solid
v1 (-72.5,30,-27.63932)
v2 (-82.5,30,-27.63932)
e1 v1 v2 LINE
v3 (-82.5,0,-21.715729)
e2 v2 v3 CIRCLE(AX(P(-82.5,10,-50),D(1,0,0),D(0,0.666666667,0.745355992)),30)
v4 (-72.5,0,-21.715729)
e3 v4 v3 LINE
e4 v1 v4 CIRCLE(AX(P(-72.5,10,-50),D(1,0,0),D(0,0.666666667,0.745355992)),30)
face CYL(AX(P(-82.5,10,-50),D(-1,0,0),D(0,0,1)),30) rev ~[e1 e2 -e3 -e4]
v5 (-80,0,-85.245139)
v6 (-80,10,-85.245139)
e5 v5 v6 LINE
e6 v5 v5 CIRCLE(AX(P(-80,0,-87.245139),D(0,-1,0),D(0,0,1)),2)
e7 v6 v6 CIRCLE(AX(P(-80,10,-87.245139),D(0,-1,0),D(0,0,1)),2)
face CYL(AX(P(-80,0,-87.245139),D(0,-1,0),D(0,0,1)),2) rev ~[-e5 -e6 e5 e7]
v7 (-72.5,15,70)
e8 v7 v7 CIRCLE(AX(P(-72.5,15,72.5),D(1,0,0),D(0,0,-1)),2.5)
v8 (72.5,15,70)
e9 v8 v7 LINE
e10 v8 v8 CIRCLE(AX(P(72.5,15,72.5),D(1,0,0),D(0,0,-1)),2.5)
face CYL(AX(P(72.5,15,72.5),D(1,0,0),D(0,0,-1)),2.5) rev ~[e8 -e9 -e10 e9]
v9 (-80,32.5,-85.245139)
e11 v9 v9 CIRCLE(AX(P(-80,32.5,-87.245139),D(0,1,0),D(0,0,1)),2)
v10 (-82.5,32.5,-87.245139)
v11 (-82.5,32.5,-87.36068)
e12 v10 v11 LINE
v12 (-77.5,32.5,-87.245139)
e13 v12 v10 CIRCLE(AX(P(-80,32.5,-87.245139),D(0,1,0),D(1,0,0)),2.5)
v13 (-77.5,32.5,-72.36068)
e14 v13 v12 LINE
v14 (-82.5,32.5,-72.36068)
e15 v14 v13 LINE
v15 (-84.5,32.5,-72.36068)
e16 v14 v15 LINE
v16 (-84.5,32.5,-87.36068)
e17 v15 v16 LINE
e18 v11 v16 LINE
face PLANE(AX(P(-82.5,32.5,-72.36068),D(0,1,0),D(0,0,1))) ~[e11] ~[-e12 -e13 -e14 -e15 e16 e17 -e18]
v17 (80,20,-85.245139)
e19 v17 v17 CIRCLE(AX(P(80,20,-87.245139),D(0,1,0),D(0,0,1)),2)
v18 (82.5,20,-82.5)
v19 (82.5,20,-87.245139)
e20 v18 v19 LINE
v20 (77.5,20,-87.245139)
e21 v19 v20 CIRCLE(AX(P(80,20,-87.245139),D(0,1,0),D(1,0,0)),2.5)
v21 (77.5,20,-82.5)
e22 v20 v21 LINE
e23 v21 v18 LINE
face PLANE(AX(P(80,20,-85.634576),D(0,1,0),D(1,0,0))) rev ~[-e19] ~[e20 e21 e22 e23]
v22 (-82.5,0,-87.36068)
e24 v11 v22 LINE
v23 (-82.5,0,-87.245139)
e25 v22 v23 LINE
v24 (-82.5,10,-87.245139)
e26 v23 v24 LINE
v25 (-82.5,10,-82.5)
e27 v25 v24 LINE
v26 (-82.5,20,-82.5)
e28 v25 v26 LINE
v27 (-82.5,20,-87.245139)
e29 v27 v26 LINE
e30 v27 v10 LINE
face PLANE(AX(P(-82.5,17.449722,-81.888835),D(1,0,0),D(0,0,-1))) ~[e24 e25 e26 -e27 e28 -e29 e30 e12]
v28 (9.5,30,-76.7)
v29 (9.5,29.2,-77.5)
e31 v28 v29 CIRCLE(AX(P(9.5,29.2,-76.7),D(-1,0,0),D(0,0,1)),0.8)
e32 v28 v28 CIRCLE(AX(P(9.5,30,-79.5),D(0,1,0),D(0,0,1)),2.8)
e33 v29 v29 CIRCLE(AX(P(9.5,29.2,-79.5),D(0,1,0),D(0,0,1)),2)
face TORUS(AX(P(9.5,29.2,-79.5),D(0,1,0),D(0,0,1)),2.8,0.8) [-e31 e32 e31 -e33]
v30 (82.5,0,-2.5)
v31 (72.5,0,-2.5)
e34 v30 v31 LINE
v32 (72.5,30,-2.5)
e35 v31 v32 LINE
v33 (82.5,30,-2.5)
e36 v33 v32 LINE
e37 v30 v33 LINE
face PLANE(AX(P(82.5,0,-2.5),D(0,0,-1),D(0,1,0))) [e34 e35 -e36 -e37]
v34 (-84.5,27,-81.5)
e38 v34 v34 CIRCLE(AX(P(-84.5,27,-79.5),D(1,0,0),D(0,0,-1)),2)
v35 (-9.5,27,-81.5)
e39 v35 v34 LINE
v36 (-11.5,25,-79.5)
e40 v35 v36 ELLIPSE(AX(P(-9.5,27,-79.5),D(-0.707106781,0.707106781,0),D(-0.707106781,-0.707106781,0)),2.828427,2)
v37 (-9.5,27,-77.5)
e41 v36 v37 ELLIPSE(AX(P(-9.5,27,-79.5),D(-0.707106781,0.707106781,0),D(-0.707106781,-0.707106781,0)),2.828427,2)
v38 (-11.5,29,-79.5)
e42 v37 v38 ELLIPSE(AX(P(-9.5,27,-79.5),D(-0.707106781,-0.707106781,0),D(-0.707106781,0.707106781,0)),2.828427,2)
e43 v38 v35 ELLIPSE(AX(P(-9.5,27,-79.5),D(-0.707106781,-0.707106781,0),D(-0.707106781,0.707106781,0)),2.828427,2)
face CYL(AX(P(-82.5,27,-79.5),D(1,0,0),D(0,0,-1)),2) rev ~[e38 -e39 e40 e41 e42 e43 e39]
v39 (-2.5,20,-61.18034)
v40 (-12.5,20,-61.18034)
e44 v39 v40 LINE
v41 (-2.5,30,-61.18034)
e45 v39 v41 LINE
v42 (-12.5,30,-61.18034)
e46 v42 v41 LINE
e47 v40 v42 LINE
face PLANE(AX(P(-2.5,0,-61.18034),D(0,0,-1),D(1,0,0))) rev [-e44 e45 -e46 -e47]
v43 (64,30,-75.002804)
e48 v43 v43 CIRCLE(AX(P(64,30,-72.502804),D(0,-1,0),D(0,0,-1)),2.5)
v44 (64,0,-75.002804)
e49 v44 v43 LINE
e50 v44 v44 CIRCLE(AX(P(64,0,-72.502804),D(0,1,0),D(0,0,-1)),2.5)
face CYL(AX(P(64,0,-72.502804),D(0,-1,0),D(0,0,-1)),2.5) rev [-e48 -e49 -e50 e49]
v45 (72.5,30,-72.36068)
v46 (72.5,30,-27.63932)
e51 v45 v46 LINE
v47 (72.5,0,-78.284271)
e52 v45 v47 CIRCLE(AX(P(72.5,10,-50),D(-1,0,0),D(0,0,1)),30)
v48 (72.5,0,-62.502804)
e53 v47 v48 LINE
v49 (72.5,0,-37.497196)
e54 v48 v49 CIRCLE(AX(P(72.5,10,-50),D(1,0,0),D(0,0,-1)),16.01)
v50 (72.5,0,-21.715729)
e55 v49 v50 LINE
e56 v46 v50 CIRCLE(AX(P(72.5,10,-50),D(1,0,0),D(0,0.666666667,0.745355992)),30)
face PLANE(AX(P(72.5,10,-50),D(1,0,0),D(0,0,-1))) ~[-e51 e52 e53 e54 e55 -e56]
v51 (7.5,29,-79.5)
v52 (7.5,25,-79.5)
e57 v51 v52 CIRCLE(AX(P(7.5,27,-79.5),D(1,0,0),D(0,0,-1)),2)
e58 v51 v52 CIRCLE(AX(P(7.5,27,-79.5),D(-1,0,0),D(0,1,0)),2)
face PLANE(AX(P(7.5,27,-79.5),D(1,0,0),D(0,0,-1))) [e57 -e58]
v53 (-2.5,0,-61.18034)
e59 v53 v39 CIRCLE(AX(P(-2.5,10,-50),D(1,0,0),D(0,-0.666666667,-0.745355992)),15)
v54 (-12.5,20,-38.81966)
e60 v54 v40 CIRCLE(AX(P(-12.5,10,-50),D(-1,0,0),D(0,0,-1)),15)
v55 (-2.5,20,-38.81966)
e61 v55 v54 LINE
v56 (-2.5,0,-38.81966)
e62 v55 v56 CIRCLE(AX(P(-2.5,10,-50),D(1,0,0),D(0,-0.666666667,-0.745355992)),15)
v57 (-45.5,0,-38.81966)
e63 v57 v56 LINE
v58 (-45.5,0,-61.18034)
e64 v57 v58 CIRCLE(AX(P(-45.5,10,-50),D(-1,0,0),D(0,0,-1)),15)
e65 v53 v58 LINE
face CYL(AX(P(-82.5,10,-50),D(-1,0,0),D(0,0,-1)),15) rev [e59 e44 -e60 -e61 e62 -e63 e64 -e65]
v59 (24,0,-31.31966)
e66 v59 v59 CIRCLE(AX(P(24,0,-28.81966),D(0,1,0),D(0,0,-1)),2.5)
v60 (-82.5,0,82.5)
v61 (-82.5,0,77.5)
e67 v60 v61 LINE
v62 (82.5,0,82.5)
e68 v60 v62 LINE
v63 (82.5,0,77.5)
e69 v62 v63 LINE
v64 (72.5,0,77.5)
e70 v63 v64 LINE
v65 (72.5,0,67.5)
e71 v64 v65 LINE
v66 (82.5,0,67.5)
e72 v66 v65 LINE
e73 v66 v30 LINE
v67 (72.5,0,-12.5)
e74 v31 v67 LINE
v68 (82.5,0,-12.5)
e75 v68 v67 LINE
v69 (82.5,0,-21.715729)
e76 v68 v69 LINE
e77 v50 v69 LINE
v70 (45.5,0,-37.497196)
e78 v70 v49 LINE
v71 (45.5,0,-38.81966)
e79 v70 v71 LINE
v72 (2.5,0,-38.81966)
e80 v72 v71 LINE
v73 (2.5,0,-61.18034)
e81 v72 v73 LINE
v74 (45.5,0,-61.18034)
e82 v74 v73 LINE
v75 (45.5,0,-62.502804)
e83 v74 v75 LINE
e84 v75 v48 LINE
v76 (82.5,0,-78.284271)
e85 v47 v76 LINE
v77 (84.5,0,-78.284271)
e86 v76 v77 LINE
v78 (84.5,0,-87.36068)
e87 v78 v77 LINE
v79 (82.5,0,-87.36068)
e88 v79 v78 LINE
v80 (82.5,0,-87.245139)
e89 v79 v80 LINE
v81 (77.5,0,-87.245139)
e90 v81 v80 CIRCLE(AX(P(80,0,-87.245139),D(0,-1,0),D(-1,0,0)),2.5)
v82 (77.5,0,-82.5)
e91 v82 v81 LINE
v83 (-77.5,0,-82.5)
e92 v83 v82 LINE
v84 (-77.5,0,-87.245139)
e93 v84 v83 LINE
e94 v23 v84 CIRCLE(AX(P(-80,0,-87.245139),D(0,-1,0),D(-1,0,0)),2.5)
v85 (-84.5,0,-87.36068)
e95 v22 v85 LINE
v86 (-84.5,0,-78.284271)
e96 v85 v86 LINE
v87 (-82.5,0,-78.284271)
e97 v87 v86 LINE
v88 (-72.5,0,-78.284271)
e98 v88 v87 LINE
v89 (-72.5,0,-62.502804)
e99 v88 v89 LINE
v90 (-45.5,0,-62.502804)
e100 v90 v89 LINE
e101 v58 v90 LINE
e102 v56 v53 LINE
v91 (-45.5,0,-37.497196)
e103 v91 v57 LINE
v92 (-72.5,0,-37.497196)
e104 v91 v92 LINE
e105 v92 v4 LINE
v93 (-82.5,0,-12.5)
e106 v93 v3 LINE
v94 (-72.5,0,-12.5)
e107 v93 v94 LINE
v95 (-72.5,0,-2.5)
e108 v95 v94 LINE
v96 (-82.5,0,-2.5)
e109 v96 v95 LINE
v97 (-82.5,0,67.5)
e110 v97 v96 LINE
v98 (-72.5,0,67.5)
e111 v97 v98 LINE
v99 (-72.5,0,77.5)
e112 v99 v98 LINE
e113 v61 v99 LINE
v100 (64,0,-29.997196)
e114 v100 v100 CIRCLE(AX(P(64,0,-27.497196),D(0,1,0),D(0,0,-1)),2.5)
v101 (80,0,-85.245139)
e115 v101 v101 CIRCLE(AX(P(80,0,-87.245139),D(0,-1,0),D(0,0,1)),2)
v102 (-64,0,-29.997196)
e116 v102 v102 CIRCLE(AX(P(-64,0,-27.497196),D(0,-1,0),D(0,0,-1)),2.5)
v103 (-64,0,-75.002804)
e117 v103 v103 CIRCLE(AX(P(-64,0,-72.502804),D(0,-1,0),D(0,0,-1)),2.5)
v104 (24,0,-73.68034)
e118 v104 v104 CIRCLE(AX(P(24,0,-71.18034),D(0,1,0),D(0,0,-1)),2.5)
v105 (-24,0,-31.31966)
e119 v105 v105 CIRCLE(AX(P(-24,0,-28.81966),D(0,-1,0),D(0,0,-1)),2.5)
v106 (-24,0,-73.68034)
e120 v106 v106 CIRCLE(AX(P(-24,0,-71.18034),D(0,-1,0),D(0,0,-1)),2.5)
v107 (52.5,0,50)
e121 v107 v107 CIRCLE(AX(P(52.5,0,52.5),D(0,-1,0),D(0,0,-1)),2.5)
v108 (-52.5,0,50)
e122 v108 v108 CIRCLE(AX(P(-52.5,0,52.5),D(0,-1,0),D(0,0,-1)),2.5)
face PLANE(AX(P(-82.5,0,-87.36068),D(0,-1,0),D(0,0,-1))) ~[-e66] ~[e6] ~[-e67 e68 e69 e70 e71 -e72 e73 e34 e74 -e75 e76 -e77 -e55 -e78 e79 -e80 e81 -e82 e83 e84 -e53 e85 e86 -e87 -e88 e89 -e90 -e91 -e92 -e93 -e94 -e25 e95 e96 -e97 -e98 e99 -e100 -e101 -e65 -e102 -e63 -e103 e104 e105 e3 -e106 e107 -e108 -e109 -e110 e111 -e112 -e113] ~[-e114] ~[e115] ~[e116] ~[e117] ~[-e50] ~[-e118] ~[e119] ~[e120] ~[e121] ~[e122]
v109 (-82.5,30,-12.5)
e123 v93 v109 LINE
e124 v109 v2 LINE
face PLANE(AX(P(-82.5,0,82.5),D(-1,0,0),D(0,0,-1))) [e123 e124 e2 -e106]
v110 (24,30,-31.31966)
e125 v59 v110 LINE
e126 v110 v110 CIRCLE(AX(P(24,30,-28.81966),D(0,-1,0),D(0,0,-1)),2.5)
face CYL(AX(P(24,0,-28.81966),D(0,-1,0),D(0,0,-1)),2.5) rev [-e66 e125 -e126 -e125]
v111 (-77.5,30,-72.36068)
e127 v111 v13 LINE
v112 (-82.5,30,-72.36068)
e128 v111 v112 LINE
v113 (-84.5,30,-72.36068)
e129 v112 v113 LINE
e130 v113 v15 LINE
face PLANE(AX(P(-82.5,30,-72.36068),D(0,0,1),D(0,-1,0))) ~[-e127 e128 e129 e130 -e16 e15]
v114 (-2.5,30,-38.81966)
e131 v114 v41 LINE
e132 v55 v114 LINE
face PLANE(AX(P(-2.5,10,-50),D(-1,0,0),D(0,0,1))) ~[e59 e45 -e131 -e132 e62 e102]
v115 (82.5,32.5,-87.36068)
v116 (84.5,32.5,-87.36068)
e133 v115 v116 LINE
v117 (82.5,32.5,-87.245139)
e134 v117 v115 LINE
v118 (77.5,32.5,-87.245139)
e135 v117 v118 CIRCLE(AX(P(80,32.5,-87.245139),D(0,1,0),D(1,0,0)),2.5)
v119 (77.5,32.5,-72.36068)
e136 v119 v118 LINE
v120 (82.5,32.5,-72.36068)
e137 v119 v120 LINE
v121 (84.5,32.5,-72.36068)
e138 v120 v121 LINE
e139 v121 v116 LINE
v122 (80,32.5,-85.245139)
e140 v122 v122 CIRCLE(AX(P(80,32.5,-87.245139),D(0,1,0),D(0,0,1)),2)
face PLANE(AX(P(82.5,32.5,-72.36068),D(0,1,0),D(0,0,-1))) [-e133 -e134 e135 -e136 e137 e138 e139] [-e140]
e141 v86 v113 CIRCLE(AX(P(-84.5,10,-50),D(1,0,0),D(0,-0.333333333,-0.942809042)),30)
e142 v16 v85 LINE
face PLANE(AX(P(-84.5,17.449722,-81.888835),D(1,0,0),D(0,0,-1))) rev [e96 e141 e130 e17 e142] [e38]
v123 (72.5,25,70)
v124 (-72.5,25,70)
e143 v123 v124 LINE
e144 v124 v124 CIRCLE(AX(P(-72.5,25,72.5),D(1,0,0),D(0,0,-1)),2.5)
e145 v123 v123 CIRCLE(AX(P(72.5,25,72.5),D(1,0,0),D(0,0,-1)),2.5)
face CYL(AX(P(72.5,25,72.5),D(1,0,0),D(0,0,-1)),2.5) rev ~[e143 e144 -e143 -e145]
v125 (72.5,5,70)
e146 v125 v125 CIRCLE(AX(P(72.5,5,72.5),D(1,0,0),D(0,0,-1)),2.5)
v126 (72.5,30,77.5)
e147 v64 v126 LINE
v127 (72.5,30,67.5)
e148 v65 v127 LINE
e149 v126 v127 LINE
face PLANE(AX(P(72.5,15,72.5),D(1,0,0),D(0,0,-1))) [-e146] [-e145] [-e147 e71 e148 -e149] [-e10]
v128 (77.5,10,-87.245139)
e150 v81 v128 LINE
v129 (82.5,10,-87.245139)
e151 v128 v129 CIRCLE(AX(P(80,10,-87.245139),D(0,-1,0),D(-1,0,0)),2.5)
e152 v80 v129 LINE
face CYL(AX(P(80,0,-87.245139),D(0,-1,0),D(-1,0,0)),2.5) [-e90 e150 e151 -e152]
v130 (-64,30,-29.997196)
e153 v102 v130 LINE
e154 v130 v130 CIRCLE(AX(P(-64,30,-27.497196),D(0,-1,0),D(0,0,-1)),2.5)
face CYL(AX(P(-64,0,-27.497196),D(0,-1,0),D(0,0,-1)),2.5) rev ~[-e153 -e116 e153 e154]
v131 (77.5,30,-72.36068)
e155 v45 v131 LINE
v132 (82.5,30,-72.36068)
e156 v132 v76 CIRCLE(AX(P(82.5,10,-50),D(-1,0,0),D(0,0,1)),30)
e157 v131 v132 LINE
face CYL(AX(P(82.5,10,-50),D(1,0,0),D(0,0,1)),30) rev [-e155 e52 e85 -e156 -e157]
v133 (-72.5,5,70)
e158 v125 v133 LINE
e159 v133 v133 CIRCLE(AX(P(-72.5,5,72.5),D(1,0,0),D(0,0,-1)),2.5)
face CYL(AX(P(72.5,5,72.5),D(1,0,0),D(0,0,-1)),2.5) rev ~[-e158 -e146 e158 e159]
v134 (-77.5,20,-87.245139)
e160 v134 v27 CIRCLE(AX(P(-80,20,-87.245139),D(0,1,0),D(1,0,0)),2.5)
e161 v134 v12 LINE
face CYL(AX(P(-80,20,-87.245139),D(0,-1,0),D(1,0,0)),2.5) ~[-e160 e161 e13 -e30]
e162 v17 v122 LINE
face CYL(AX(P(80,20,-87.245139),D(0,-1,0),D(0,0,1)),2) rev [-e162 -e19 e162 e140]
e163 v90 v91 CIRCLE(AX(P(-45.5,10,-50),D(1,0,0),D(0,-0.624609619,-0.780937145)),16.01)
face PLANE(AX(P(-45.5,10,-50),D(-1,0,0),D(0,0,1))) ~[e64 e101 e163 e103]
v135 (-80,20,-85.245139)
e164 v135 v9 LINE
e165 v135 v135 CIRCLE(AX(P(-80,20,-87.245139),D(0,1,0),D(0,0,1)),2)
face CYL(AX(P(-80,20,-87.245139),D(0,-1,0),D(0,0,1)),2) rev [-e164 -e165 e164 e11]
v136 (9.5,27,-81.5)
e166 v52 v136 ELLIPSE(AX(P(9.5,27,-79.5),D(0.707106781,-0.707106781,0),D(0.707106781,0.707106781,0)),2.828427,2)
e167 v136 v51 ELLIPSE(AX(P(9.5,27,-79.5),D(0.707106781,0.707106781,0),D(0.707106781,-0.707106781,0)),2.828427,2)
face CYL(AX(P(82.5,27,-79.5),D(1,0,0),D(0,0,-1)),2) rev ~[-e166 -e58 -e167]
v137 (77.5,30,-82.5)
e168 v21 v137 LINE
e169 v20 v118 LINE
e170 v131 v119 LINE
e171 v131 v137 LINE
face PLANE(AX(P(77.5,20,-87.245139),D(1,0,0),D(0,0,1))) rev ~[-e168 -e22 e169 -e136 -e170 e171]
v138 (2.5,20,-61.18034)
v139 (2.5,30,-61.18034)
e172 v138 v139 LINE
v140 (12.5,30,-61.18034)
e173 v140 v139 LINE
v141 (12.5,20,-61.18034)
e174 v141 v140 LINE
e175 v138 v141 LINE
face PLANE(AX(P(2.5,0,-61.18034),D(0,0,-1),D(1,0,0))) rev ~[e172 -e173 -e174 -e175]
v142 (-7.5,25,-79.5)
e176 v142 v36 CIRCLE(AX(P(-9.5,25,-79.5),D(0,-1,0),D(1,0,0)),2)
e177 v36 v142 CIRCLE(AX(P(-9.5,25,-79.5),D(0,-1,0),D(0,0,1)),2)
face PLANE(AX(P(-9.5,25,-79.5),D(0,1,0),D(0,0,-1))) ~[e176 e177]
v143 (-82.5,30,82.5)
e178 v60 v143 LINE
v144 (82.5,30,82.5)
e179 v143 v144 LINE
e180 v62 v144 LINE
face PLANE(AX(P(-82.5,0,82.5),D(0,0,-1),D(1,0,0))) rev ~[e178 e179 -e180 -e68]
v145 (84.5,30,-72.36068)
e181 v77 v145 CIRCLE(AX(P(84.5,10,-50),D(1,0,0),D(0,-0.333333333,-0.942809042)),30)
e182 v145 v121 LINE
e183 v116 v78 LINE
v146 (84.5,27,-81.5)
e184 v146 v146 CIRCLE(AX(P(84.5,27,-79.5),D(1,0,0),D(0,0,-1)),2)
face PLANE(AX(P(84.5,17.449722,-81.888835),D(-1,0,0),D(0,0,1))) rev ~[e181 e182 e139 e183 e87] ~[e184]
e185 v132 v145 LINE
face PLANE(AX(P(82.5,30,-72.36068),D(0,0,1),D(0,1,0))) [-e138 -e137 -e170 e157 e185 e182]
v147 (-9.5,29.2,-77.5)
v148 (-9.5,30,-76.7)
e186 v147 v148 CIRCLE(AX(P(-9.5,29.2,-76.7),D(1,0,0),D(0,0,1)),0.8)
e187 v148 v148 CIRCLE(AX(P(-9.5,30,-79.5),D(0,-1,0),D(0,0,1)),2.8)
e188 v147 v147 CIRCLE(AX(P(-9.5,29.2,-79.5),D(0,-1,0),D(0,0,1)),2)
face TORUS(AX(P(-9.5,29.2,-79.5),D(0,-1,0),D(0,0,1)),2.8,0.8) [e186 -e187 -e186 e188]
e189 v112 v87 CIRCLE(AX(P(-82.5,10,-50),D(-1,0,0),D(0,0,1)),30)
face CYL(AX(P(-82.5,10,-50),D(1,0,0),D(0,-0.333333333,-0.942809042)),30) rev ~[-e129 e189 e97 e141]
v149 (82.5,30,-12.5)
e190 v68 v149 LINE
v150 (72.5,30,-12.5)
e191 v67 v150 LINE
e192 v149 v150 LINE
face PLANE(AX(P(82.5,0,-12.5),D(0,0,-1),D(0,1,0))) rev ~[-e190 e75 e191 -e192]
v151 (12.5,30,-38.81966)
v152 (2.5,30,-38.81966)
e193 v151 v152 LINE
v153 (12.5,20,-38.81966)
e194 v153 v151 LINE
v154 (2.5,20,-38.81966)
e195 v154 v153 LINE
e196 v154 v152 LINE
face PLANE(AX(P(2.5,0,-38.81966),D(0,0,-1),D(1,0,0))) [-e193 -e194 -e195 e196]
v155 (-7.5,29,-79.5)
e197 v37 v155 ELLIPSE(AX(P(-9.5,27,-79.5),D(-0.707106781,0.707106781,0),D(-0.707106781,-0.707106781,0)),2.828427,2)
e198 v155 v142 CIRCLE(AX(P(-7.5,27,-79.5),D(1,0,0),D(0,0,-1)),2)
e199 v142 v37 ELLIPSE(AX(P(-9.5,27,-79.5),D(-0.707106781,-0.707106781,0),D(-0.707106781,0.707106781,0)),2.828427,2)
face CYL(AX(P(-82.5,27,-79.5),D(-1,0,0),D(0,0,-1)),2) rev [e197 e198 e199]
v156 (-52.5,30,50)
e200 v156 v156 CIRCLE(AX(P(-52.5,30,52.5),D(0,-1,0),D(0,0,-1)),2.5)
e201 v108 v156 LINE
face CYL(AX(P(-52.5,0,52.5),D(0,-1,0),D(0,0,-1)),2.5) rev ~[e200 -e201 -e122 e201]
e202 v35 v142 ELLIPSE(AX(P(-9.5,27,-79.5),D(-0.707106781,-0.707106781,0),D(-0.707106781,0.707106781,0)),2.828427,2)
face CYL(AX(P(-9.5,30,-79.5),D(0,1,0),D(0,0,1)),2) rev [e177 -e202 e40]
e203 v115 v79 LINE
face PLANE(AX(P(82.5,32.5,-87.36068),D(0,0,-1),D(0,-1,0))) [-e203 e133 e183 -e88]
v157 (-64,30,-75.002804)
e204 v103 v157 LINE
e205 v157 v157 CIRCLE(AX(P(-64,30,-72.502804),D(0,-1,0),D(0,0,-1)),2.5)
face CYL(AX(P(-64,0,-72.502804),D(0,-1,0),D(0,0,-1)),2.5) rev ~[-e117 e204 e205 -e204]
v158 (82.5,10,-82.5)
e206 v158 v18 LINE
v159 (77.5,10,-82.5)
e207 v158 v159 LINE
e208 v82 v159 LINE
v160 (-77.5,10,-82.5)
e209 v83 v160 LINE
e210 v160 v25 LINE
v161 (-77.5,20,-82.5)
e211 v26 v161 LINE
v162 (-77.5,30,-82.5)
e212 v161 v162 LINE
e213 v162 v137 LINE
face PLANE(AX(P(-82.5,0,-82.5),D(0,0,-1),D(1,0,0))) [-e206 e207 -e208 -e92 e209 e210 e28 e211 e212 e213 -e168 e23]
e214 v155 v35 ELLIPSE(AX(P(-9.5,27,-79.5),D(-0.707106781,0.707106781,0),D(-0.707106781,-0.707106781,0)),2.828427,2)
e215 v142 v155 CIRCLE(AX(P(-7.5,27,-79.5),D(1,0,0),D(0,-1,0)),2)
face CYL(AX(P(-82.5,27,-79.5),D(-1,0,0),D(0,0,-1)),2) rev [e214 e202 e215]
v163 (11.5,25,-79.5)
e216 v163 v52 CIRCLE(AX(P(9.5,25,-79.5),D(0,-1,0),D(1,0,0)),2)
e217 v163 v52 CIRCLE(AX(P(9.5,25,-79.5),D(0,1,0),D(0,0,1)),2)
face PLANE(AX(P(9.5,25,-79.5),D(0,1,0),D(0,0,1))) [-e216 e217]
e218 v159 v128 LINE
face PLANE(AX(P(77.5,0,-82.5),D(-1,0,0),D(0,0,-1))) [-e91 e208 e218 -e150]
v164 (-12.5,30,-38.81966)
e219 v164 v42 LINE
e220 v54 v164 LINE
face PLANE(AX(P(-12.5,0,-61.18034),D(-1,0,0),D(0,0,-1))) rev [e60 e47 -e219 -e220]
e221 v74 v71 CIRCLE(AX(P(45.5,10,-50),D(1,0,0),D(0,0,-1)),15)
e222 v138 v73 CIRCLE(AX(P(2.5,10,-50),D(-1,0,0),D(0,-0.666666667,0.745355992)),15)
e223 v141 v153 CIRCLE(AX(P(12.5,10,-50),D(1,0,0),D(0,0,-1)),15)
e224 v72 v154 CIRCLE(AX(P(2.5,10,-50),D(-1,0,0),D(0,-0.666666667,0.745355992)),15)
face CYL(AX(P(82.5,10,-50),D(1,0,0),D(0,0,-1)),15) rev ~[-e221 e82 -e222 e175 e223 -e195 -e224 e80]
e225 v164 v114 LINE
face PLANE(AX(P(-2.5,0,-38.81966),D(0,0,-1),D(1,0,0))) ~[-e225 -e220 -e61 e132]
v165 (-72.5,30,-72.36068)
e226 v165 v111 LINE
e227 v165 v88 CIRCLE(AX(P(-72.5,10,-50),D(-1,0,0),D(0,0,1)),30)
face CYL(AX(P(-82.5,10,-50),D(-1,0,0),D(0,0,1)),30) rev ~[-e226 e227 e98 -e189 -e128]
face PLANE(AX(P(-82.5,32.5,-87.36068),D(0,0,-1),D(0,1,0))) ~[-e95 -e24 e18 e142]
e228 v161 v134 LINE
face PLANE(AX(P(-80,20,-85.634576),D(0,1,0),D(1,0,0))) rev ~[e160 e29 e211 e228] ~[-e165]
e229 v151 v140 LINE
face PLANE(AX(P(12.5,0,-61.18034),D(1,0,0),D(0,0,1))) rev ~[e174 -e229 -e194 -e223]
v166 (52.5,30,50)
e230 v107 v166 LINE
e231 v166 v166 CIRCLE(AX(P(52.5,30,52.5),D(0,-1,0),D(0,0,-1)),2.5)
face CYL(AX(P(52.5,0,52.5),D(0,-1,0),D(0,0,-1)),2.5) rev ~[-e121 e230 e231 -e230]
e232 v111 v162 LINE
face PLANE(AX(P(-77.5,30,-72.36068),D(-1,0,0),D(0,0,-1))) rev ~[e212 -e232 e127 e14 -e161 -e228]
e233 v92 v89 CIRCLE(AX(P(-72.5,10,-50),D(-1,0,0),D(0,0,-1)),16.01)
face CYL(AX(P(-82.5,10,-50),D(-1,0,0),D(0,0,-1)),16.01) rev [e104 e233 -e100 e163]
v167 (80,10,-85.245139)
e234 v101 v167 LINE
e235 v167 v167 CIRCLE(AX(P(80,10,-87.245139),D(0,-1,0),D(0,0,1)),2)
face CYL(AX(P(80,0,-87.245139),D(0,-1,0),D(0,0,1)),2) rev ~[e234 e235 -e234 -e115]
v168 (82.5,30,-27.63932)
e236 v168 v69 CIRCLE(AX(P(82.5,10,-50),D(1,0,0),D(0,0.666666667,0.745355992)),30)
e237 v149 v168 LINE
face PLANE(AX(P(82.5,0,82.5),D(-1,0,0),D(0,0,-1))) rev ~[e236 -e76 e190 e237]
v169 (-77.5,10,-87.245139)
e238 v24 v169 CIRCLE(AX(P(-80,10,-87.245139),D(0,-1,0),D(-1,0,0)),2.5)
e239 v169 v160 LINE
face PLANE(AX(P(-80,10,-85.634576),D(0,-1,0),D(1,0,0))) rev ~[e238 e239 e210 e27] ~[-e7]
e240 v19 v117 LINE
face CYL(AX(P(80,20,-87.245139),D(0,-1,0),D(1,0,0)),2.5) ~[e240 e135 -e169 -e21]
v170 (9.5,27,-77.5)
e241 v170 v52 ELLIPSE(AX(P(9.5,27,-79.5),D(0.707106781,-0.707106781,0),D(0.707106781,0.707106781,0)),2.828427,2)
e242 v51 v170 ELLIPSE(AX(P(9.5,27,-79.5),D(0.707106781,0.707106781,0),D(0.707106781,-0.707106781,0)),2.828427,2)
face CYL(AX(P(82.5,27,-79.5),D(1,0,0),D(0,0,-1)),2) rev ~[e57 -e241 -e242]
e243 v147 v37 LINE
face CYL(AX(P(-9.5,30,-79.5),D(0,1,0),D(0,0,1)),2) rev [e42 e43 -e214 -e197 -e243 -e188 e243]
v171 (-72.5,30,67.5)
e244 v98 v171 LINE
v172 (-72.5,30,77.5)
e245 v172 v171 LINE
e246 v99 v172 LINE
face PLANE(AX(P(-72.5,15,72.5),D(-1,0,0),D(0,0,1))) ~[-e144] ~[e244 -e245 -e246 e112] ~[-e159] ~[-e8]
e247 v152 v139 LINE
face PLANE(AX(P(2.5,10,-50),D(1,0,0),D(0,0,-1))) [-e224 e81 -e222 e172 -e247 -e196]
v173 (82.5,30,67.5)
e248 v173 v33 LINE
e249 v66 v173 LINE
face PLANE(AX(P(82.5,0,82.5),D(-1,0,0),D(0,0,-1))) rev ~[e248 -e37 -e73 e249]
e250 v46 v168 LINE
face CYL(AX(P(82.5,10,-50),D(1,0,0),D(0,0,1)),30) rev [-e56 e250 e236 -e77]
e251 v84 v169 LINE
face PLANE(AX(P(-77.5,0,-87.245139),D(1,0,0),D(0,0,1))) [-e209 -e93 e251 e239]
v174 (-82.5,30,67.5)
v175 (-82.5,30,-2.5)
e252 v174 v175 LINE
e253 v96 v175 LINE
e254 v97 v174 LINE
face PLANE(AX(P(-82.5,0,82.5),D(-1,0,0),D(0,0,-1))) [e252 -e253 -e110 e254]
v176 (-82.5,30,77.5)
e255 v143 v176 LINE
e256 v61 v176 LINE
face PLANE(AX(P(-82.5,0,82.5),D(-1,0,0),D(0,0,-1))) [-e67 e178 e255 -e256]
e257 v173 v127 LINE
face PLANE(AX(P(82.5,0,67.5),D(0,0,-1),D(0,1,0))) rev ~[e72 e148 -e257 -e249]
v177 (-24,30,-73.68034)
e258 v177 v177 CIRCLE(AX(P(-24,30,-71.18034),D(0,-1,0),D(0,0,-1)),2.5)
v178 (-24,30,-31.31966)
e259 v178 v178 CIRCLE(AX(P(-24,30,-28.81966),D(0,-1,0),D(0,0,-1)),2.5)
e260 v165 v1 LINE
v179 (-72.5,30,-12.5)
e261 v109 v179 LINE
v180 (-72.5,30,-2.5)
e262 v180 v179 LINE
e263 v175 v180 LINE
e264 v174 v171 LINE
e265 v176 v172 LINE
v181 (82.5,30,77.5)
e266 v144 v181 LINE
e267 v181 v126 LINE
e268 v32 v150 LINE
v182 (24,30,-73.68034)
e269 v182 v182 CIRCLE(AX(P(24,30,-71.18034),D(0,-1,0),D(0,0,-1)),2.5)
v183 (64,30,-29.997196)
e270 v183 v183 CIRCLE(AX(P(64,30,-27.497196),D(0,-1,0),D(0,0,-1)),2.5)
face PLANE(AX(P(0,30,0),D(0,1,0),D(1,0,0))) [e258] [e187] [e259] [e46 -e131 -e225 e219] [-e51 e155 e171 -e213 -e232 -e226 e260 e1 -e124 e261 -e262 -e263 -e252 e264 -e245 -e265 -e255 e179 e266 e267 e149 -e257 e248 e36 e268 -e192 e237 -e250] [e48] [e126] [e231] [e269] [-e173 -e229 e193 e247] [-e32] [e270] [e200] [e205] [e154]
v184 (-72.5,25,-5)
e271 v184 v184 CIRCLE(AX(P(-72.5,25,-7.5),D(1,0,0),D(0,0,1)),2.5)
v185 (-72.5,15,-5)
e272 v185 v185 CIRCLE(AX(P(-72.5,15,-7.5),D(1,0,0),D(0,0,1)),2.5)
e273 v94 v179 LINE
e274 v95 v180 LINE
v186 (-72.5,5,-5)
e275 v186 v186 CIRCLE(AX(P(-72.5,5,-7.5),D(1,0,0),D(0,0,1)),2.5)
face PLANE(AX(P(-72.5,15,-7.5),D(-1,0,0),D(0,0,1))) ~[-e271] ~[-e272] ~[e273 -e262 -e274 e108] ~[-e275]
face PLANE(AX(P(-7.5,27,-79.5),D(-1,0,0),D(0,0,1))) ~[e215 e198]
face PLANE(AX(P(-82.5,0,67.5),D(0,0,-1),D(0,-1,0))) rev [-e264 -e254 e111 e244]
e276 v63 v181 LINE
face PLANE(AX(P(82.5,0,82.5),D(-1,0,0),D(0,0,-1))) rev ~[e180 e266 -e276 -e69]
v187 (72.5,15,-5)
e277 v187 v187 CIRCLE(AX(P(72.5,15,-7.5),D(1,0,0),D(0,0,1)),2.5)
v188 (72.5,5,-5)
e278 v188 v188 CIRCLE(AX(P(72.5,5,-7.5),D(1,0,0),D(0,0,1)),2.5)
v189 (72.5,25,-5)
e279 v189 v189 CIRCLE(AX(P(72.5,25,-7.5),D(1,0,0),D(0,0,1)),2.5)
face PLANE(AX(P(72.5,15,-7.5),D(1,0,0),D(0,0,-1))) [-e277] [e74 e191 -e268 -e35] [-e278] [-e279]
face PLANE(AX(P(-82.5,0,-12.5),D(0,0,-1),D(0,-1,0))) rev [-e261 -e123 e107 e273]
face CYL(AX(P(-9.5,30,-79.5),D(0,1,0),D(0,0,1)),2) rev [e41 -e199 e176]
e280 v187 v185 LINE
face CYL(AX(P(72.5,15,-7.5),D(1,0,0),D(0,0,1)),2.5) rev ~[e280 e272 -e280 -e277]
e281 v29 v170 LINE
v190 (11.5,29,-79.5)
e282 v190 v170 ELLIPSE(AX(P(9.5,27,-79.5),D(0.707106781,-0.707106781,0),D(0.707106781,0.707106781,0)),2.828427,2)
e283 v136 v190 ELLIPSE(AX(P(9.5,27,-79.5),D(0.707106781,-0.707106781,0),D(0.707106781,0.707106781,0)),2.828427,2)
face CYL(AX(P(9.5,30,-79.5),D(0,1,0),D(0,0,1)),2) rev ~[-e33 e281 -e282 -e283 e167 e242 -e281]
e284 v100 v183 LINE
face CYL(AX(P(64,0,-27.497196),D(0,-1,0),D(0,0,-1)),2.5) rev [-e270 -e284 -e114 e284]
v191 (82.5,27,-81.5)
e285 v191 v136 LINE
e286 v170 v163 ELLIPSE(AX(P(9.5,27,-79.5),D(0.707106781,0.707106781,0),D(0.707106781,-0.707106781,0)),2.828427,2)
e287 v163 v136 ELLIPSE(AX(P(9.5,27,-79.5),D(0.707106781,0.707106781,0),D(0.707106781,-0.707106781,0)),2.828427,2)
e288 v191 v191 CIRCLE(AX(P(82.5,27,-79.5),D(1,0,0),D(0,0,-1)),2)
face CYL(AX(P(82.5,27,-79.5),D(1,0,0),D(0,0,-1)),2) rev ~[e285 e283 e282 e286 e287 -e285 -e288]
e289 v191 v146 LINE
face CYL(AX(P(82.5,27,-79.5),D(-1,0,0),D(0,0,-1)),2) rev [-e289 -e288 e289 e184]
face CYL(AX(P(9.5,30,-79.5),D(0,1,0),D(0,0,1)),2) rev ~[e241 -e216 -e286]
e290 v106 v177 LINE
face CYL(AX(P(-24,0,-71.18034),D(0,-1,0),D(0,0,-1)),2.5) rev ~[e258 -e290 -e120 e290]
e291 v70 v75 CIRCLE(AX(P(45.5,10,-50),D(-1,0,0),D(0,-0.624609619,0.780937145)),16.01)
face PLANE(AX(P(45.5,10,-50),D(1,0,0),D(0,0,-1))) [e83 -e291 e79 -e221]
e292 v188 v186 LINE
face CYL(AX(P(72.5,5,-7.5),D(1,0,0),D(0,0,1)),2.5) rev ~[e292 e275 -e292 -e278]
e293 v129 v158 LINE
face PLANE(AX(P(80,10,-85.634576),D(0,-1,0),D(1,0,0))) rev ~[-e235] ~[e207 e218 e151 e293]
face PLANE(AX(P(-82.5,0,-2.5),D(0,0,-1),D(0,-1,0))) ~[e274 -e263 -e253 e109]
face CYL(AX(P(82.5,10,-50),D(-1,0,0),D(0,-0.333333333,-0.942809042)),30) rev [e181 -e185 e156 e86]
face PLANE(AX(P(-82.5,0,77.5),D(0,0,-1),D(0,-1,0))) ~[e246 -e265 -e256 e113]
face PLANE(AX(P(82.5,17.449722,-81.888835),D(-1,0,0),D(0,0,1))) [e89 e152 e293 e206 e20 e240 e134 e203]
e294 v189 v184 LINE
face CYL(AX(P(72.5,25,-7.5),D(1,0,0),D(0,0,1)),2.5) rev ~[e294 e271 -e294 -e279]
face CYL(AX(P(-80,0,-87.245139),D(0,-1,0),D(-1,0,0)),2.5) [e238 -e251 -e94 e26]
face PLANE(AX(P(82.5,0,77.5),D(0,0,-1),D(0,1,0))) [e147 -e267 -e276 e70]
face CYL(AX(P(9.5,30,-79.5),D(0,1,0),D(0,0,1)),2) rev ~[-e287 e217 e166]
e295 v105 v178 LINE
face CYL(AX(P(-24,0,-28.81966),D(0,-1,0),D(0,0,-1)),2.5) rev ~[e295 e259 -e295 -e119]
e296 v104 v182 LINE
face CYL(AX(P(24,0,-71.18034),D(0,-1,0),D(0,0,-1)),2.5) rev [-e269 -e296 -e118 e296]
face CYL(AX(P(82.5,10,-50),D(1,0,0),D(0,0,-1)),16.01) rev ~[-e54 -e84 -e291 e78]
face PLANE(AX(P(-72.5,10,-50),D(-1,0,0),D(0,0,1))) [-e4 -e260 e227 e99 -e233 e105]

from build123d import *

# Parameters (mm, degrees)
ESQUISSE2_W             = 165
ESQUISSE2_H             = 165
BASE_DEPTH              = 30
ESQUISSE3_R             = 15
BLOC_MOTEUR_1_DEPTH     = 80
ESQUISSE4_W             = 10
ESQUISSE4_H             = 22.360679774
ACCES_MOTEUR_DEPTH      = 37
ESQUISSE6_R             = 16.01
BLOC_MOTEUR_2_DEPTH     = 37
ESQUISSE7_R             = 2.5
VIS_MOTEUR_DEPTH        = 121.467838032
ESQUISSE8_R             = 2.5
VIS_PATIN_DEPTH         = 121.467838032
ESQUISSE12_R            = 30
ESPACE_ROUE_DEPTH       = 10
FIXE_PORTE_1_DEPTH      = 2.5
FIXE_PORTE_1_DEPTH_BACK = 10
ESQUISSE14_R            = 2
ESQUISSE15_W            = 5
ESQUISSE15_H            = 10.139320225
FIXE_PORTE_2_DEPTH      = 2.5
ESQUISSE16_R            = 2
FIXE_PORTE_3_DEPTH      = 10
ESQUISSE18_R            = 2
VIDE_CORDE_COTE_DEPTH   = 75
ESQUISSE19_R            = 2
VIDEO_CORDE_HAUT_DEPTH  = 5
CONGE_CORDE_R           = 0.8
ESQUISSE20_R            = 2
BOSS_MAX_PORTE_DEPTH    = 2
ESQUISSE23_W            = 10
ESQUISSE23_H            = 30
VIDE_TIGE_DEPTH         = 10
VIDE_VIS_REACH          = 185.737
ESQUISSE25_R            = 2.5


with BuildPart() as part:
    # Esquisse2 → BASE (new body)
    with BuildSketch(Plane(origin=(0, 0, 0), x_dir=(1, 0, 0), z_dir=(0, 1, 0))):
        Rectangle(ESQUISSE2_W, ESQUISSE2_H)
    extrude(amount=BASE_DEPTH)

    # Esquisse3 → BLOC MOTEUR 1. (cut)
    with BuildSketch(Plane(origin=(82.5, 0, 0), x_dir=(0, 0, -1), z_dir=(1, 0, 0))):
        with Locations((50, 10)):
            Circle(ESQUISSE3_R)
    bloc_moteur_1 = extrude(amount=-BLOC_MOTEUR_1_DEPTH, mode=Mode.SUBTRACT)

    # Esquisse4 → ACCES MOTEUR (cut)
    with BuildSketch(Plane.XZ):
        with Locations((7.5, -50)):
            Rectangle(ESQUISSE4_W, ESQUISSE4_H)
    acces_moteur = extrude(amount=-ACCES_MOTEUR_DEPTH, mode=Mode.SUBTRACT)

    # Esquisse6 → BLOC MOTEUR 2 (cut)
    with BuildSketch(Plane(origin=(82.5, 0, 0), x_dir=(0, 0, -1), z_dir=(1, 0, 0))):
        with Locations((50, 10)):
            Circle(ESQUISSE6_R)
    bloc_moteur_2 = extrude(amount=-BLOC_MOTEUR_2_DEPTH, mode=Mode.SUBTRACT)

    # SYM BLOC MOTEUR: BLOC MOTEUR 1., ACCES MOTEUR, BLOC MOTEUR 2 across plane
    add(bloc_moteur_1.mirror(Plane(origin=(0, 0, 0), x_dir=(0, 0, 1), z_dir=(1, 0, 0))), mode=Mode.SUBTRACT)
    add(acces_moteur.mirror(Plane(origin=(0, 0, 0), x_dir=(0, 0, 1), z_dir=(1, 0, 0))), mode=Mode.SUBTRACT)
    add(bloc_moteur_2.mirror(Plane(origin=(0, 0, 0), x_dir=(0, 0, 1), z_dir=(1, 0, 0))), mode=Mode.SUBTRACT)

    # Esquisse7 → VIS MOTEUR (cut, through all)
    with BuildSketch(Plane.XZ):
        with Locations(Location((-64, -27.497196314, 0), (0, 0, 270))):
            Circle(ESQUISSE7_R)
        with Locations(Location((-24, -28.819660113, 0), (0, 0, 270))):
            Circle(ESQUISSE7_R)
        with Locations(Location((-24, -71.180339887, 0), (0, 0, 270))):
            Circle(ESQUISSE7_R)
        with Locations(Location((-64, -72.502803686, 0), (0, 0, 270))):
            Circle(ESQUISSE7_R)
    vis_moteur = extrude(amount=-VIS_MOTEUR_DEPTH, mode=Mode.SUBTRACT)

    # SYM VIS: VIS MOTEUR across plane
    add(vis_moteur.mirror(Plane(origin=(0, 0, 0), x_dir=(0, 0, 1), z_dir=(1, 0, 0))), mode=Mode.SUBTRACT)

    # Esquisse8 → VIS PATIN (cut, through all)
    with BuildSketch(Plane.XZ):
        with Locations(Location((-52.5, 52.5, 0), (0, 0, 270))):
            Circle(ESQUISSE8_R)
        with Locations(Location((52.5, 52.5, 0), (0, 0, 270))):
            Circle(ESQUISSE8_R)
    extrude(amount=-VIS_PATIN_DEPTH, mode=Mode.SUBTRACT)

    # Esquisse12 → ESPACE ROUE (cut)
    with BuildSketch(Plane.ZY.offset(82.5)):
        with Locations((-50, 10)):
            Circle(ESQUISSE12_R)
    espace_roue = extrude(amount=-ESPACE_ROUE_DEPTH, mode=Mode.SUBTRACT)

    # SYM ESPACE ROUE: ESPACE ROUE across plane
    add(espace_roue.mirror(Plane(origin=(0, 0, 0), x_dir=(0, 0, 1), z_dir=(1, 0, 0))), mode=Mode.SUBTRACT)

    # Esquisse14 → FIXE PORTE 1 (add, two sides: drawn at the far end of the back side and taken through both)
    # profile 1 of 2: a face of its own
    with BuildSketch(Plane(origin=(0, 30, 0), x_dir=(1, 0, 0), z_dir=(0, 1, 0)).offset(-FIXE_PORTE_1_DEPTH_BACK)):
        with BuildLine():
            ThreePointArc((-77.5, 87.245138583), (-80, 89.745138583), (-82.5, 87.245138583))
            Line((-82.5, 87.245138583), (-82.5, 82.5))
            Line((-82.5, 82.5), (-77.5, 82.5))
            Line((-77.5, 82.5), (-77.5, 87.245138583))
        make_face()
        with Locations(Location((-80, 87.245138583, 0), (0, 0, 270))):
            Circle(ESQUISSE14_R, mode=Mode.SUBTRACT)
    # profile 2 of 2: a face of its own
    with BuildSketch(Plane(origin=(0, 30, 0), x_dir=(1, 0, 0), z_dir=(0, 1, 0)).offset(-FIXE_PORTE_1_DEPTH_BACK)):
        with BuildLine():
            Line((77.5, 87.245138583), (77.5, 82.5))
            Line((77.5, 82.5), (82.5, 82.5))
            Line((82.5, 82.5), (82.5, 87.245138583))
            ThreePointArc((82.5, 87.245138583), (80, 89.745138583), (77.5, 87.245138583))
        make_face()
        with Locations(Location((80, 87.245138583, 0), (0, 0, 270))):
            Circle(ESQUISSE14_R, mode=Mode.SUBTRACT)
    extrude(amount=FIXE_PORTE_1_DEPTH + FIXE_PORTE_1_DEPTH_BACK)

    # Esquisse15 → FIXE PORTE 2 (add)
    with BuildSketch(Plane(origin=(0, 30, 0), x_dir=(1, 0, 0), z_dir=(0, 1, 0))):
        with Locations((-80, 77.430339887)):
            Rectangle(ESQUISSE15_W, ESQUISSE15_H)
        with Locations((80, 77.430339887)):
            Rectangle(ESQUISSE15_W, ESQUISSE15_H)
    extrude(amount=FIXE_PORTE_2_DEPTH)

    # Esquisse16 → FIXE PORTE 3 (add)
    # profile 1 of 2: a face of its own
    with BuildSketch(Plane.XZ):
        with BuildLine():
            Line((-82.5, -82.5), (-82.5, -87.245138583))
            ThreePointArc((-82.5, -87.245138583), (-80, -89.745138583), (-77.5, -87.245138583))
            Line((-77.5, -87.245138583), (-77.5, -82.5))
            Line((-77.5, -82.5), (-82.5, -82.5))
        make_face()
        with Locations(Location((-80, -87.245138583, 0), (0, 0, 90))):
            Circle(ESQUISSE16_R, mode=Mode.SUBTRACT)
    # profile 2 of 2: a face of its own
    with BuildSketch(Plane.XZ):
        with BuildLine():
            Line((82.5, -82.5), (77.5, -82.5))
            Line((77.5, -82.5), (77.5, -87.245138583))
            ThreePointArc((77.5, -87.245138583), (80, -89.745138583), (82.5, -87.245138583))
            Line((82.5, -87.245138583), (82.5, -82.5))
        make_face()
        with Locations(Location((80, -87.245138583, 0), (0, 0, 90))):
            Circle(ESQUISSE16_R, mode=Mode.SUBTRACT)
    extrude(amount=-FIXE_PORTE_3_DEPTH)

    # Esquisse18 → VIDE CORDE COTE (cut)
    with BuildSketch(Plane(origin=(82.5, 0, 0), x_dir=(0, 0, -1), z_dir=(1, 0, 0))):
        with Locations((79.5, 27)):
            Circle(ESQUISSE18_R)
    vide_corde_cote = extrude(amount=-VIDE_CORDE_COTE_DEPTH, mode=Mode.SUBTRACT)

    # Esquisse19 → VIDEO CORDE HAUT (cut)
    with BuildSketch(Plane(origin=(0, 30, 0), x_dir=(1, 0, 0), z_dir=(0, 1, 0))):
        with Locations(Location((9.5, 79.5, 0), (0, 0, 270))):
            Circle(ESQUISSE19_R)
    video_corde_haut = extrude(amount=-VIDEO_CORDE_HAUT_DEPTH, mode=Mode.SUBTRACT)

    # SYM CORDE: VIDE CORDE COTE, VIDEO CORDE HAUT across plane
    add(vide_corde_cote.mirror(Plane(origin=(0, 0, 0), x_dir=(0, 0, 1), z_dir=(1, 0, 0))), mode=Mode.SUBTRACT)
    add(video_corde_haut.mirror(Plane(origin=(0, 0, 0), x_dir=(0, 0, 1), z_dir=(1, 0, 0))), mode=Mode.SUBTRACT)

    # CONGE CORDE
    conge_corde_edges = [part.edges().sort_by_distance(p)[0] for p in [
        (9.5, 30, -81.5),
        (-9.5, 30, -81.5),
    ]]
    fillet(conge_corde_edges, radius=CONGE_CORDE_R)

    # Esquisse20 → BOSS MAX PORTE (add)
    with BuildSketch(Plane(origin=(82.5, 0, 0), x_dir=(0, 0, -1), z_dir=(1, 0, 0))):
        with BuildLine():
            Line((72.360679775, 30), (72.360679775, 32.5))
            Line((72.360679775, 32.5), (87.360679775, 32.5))
            Line((87.360679775, 32.5), (87.360679775, 0))
            Line((87.360679775, 0), (78.284271247, 0))
            ThreePointArc((78.284271247, 0), (79.431747587, 15.811388301), (72.360679775, 30))
        make_face()
        with Locations((79.5, 27)):
            Circle(ESQUISSE20_R, mode=Mode.SUBTRACT)
    boss_max_porte = extrude(amount=BOSS_MAX_PORTE_DEPTH)

    # SYM MAX PORTE: BOSS MAX PORTE across plane
    add(boss_max_porte.mirror(Plane(origin=(0, 0, 0), x_dir=(0, 0, 1), z_dir=(1, 0, 0))))

    # Esquisse23 → VIDE TIGE (cut)
    with BuildSketch(Plane(origin=(82.5, 0, 0), x_dir=(0, 0, -1), z_dir=(1, 0, 0))):
        with Locations((-72.5, 15)):
            Rectangle(ESQUISSE23_W, ESQUISSE23_H)
        with Locations((7.5, 15)):
            Rectangle(ESQUISSE23_W, ESQUISSE23_H)
    vide_tige = extrude(amount=-VIDE_TIGE_DEPTH, mode=Mode.SUBTRACT)

    # SYM TIGE: VIDE TIGE across plane
    add(vide_tige.mirror(Plane(origin=(0, 0, 0), x_dir=(0, 0, 1), z_dir=(1, 0, 0))), mode=Mode.SUBTRACT)

    # Esquisse25 → VIDE VIS (cut, up to next)
    with BuildSketch(Plane(origin=(72.5, 0, 0), x_dir=(0, 0, -1), z_dir=(1, 0, 0)), mode=Mode.PRIVATE) as vide_vis_sk1:
        with Locations((-72.5, 25)):
            Circle(ESQUISSE25_R)
    vide_vis_tool1 = extrude(vide_vis_sk1.sketch, amount=-VIDE_VIS_REACH, mode=Mode.PRIVATE) & part.part
    # Esquisse25 → VIDE VIS (cut, up to next)
    with BuildSketch(Plane(origin=(72.5, 0, 0), x_dir=(0, 0, -1), z_dir=(1, 0, 0)), mode=Mode.PRIVATE) as vide_vis_sk2:
        with Locations((-72.5, 15)):
            Circle(ESQUISSE25_R)
    vide_vis_tool2 = extrude(vide_vis_sk2.sketch, amount=-VIDE_VIS_REACH, mode=Mode.PRIVATE) & part.part
    # Esquisse25 → VIDE VIS (cut, up to next)
    with BuildSketch(Plane(origin=(72.5, 0, 0), x_dir=(0, 0, -1), z_dir=(1, 0, 0)), mode=Mode.PRIVATE) as vide_vis_sk3:
        with Locations((-72.5, 5)):
            Circle(ESQUISSE25_R)
    vide_vis_tool3 = extrude(vide_vis_sk3.sketch, amount=-VIDE_VIS_REACH, mode=Mode.PRIVATE) & part.part
    # Esquisse25 → VIDE VIS (cut, up to next)
    with BuildSketch(Plane(origin=(72.5, 0, 0), x_dir=(0, 0, -1), z_dir=(1, 0, 0)), mode=Mode.PRIVATE) as vide_vis_sk4:
        with Locations(Location((7.5, 5, 0), (0, 0, 180))):
            Circle(ESQUISSE25_R)
    vide_vis_tool4 = extrude(vide_vis_sk4.sketch, amount=-VIDE_VIS_REACH, mode=Mode.PRIVATE) & part.part
    # Esquisse25 → VIDE VIS (cut, up to next)
    with BuildSketch(Plane(origin=(72.5, 0, 0), x_dir=(0, 0, -1), z_dir=(1, 0, 0)), mode=Mode.PRIVATE) as vide_vis_sk5:
        with Locations(Location((7.5, 25, 0), (0, 0, 180))):
            Circle(ESQUISSE25_R)
    vide_vis_tool5 = extrude(vide_vis_sk5.sketch, amount=-VIDE_VIS_REACH, mode=Mode.PRIVATE) & part.part
    # Esquisse25 → VIDE VIS (cut, up to next)
    with BuildSketch(Plane(origin=(72.5, 0, 0), x_dir=(0, 0, -1), z_dir=(1, 0, 0)), mode=Mode.PRIVATE) as vide_vis_sk6:
        with Locations(Location((7.5, 15, 0), (0, 0, 180))):
            Circle(ESQUISSE25_R)
    vide_vis_tool6 = extrude(vide_vis_sk6.sketch, amount=-VIDE_VIS_REACH, mode=Mode.PRIVATE) & part.part
    add(vide_vis_tool1.solids().sort_by_distance((72.5, 25, 72.5))[0], mode=Mode.SUBTRACT)
    add(vide_vis_tool2.solids().sort_by_distance((72.5, 15, 72.5))[0], mode=Mode.SUBTRACT)
    add(vide_vis_tool3.solids().sort_by_distance((72.5, 5, 72.5))[0], mode=Mode.SUBTRACT)
    add(vide_vis_tool4.solids().sort_by_distance((72.5, 5, -7.5))[0], mode=Mode.SUBTRACT)
    add(vide_vis_tool5.solids().sort_by_distance((72.5, 25, -7.5))[0], mode=Mode.SUBTRACT)
    add(vide_vis_tool6.solids().sort_by_distance((72.5, 15, -7.5))[0], mode=Mode.SUBTRACT)


solid = part.part
